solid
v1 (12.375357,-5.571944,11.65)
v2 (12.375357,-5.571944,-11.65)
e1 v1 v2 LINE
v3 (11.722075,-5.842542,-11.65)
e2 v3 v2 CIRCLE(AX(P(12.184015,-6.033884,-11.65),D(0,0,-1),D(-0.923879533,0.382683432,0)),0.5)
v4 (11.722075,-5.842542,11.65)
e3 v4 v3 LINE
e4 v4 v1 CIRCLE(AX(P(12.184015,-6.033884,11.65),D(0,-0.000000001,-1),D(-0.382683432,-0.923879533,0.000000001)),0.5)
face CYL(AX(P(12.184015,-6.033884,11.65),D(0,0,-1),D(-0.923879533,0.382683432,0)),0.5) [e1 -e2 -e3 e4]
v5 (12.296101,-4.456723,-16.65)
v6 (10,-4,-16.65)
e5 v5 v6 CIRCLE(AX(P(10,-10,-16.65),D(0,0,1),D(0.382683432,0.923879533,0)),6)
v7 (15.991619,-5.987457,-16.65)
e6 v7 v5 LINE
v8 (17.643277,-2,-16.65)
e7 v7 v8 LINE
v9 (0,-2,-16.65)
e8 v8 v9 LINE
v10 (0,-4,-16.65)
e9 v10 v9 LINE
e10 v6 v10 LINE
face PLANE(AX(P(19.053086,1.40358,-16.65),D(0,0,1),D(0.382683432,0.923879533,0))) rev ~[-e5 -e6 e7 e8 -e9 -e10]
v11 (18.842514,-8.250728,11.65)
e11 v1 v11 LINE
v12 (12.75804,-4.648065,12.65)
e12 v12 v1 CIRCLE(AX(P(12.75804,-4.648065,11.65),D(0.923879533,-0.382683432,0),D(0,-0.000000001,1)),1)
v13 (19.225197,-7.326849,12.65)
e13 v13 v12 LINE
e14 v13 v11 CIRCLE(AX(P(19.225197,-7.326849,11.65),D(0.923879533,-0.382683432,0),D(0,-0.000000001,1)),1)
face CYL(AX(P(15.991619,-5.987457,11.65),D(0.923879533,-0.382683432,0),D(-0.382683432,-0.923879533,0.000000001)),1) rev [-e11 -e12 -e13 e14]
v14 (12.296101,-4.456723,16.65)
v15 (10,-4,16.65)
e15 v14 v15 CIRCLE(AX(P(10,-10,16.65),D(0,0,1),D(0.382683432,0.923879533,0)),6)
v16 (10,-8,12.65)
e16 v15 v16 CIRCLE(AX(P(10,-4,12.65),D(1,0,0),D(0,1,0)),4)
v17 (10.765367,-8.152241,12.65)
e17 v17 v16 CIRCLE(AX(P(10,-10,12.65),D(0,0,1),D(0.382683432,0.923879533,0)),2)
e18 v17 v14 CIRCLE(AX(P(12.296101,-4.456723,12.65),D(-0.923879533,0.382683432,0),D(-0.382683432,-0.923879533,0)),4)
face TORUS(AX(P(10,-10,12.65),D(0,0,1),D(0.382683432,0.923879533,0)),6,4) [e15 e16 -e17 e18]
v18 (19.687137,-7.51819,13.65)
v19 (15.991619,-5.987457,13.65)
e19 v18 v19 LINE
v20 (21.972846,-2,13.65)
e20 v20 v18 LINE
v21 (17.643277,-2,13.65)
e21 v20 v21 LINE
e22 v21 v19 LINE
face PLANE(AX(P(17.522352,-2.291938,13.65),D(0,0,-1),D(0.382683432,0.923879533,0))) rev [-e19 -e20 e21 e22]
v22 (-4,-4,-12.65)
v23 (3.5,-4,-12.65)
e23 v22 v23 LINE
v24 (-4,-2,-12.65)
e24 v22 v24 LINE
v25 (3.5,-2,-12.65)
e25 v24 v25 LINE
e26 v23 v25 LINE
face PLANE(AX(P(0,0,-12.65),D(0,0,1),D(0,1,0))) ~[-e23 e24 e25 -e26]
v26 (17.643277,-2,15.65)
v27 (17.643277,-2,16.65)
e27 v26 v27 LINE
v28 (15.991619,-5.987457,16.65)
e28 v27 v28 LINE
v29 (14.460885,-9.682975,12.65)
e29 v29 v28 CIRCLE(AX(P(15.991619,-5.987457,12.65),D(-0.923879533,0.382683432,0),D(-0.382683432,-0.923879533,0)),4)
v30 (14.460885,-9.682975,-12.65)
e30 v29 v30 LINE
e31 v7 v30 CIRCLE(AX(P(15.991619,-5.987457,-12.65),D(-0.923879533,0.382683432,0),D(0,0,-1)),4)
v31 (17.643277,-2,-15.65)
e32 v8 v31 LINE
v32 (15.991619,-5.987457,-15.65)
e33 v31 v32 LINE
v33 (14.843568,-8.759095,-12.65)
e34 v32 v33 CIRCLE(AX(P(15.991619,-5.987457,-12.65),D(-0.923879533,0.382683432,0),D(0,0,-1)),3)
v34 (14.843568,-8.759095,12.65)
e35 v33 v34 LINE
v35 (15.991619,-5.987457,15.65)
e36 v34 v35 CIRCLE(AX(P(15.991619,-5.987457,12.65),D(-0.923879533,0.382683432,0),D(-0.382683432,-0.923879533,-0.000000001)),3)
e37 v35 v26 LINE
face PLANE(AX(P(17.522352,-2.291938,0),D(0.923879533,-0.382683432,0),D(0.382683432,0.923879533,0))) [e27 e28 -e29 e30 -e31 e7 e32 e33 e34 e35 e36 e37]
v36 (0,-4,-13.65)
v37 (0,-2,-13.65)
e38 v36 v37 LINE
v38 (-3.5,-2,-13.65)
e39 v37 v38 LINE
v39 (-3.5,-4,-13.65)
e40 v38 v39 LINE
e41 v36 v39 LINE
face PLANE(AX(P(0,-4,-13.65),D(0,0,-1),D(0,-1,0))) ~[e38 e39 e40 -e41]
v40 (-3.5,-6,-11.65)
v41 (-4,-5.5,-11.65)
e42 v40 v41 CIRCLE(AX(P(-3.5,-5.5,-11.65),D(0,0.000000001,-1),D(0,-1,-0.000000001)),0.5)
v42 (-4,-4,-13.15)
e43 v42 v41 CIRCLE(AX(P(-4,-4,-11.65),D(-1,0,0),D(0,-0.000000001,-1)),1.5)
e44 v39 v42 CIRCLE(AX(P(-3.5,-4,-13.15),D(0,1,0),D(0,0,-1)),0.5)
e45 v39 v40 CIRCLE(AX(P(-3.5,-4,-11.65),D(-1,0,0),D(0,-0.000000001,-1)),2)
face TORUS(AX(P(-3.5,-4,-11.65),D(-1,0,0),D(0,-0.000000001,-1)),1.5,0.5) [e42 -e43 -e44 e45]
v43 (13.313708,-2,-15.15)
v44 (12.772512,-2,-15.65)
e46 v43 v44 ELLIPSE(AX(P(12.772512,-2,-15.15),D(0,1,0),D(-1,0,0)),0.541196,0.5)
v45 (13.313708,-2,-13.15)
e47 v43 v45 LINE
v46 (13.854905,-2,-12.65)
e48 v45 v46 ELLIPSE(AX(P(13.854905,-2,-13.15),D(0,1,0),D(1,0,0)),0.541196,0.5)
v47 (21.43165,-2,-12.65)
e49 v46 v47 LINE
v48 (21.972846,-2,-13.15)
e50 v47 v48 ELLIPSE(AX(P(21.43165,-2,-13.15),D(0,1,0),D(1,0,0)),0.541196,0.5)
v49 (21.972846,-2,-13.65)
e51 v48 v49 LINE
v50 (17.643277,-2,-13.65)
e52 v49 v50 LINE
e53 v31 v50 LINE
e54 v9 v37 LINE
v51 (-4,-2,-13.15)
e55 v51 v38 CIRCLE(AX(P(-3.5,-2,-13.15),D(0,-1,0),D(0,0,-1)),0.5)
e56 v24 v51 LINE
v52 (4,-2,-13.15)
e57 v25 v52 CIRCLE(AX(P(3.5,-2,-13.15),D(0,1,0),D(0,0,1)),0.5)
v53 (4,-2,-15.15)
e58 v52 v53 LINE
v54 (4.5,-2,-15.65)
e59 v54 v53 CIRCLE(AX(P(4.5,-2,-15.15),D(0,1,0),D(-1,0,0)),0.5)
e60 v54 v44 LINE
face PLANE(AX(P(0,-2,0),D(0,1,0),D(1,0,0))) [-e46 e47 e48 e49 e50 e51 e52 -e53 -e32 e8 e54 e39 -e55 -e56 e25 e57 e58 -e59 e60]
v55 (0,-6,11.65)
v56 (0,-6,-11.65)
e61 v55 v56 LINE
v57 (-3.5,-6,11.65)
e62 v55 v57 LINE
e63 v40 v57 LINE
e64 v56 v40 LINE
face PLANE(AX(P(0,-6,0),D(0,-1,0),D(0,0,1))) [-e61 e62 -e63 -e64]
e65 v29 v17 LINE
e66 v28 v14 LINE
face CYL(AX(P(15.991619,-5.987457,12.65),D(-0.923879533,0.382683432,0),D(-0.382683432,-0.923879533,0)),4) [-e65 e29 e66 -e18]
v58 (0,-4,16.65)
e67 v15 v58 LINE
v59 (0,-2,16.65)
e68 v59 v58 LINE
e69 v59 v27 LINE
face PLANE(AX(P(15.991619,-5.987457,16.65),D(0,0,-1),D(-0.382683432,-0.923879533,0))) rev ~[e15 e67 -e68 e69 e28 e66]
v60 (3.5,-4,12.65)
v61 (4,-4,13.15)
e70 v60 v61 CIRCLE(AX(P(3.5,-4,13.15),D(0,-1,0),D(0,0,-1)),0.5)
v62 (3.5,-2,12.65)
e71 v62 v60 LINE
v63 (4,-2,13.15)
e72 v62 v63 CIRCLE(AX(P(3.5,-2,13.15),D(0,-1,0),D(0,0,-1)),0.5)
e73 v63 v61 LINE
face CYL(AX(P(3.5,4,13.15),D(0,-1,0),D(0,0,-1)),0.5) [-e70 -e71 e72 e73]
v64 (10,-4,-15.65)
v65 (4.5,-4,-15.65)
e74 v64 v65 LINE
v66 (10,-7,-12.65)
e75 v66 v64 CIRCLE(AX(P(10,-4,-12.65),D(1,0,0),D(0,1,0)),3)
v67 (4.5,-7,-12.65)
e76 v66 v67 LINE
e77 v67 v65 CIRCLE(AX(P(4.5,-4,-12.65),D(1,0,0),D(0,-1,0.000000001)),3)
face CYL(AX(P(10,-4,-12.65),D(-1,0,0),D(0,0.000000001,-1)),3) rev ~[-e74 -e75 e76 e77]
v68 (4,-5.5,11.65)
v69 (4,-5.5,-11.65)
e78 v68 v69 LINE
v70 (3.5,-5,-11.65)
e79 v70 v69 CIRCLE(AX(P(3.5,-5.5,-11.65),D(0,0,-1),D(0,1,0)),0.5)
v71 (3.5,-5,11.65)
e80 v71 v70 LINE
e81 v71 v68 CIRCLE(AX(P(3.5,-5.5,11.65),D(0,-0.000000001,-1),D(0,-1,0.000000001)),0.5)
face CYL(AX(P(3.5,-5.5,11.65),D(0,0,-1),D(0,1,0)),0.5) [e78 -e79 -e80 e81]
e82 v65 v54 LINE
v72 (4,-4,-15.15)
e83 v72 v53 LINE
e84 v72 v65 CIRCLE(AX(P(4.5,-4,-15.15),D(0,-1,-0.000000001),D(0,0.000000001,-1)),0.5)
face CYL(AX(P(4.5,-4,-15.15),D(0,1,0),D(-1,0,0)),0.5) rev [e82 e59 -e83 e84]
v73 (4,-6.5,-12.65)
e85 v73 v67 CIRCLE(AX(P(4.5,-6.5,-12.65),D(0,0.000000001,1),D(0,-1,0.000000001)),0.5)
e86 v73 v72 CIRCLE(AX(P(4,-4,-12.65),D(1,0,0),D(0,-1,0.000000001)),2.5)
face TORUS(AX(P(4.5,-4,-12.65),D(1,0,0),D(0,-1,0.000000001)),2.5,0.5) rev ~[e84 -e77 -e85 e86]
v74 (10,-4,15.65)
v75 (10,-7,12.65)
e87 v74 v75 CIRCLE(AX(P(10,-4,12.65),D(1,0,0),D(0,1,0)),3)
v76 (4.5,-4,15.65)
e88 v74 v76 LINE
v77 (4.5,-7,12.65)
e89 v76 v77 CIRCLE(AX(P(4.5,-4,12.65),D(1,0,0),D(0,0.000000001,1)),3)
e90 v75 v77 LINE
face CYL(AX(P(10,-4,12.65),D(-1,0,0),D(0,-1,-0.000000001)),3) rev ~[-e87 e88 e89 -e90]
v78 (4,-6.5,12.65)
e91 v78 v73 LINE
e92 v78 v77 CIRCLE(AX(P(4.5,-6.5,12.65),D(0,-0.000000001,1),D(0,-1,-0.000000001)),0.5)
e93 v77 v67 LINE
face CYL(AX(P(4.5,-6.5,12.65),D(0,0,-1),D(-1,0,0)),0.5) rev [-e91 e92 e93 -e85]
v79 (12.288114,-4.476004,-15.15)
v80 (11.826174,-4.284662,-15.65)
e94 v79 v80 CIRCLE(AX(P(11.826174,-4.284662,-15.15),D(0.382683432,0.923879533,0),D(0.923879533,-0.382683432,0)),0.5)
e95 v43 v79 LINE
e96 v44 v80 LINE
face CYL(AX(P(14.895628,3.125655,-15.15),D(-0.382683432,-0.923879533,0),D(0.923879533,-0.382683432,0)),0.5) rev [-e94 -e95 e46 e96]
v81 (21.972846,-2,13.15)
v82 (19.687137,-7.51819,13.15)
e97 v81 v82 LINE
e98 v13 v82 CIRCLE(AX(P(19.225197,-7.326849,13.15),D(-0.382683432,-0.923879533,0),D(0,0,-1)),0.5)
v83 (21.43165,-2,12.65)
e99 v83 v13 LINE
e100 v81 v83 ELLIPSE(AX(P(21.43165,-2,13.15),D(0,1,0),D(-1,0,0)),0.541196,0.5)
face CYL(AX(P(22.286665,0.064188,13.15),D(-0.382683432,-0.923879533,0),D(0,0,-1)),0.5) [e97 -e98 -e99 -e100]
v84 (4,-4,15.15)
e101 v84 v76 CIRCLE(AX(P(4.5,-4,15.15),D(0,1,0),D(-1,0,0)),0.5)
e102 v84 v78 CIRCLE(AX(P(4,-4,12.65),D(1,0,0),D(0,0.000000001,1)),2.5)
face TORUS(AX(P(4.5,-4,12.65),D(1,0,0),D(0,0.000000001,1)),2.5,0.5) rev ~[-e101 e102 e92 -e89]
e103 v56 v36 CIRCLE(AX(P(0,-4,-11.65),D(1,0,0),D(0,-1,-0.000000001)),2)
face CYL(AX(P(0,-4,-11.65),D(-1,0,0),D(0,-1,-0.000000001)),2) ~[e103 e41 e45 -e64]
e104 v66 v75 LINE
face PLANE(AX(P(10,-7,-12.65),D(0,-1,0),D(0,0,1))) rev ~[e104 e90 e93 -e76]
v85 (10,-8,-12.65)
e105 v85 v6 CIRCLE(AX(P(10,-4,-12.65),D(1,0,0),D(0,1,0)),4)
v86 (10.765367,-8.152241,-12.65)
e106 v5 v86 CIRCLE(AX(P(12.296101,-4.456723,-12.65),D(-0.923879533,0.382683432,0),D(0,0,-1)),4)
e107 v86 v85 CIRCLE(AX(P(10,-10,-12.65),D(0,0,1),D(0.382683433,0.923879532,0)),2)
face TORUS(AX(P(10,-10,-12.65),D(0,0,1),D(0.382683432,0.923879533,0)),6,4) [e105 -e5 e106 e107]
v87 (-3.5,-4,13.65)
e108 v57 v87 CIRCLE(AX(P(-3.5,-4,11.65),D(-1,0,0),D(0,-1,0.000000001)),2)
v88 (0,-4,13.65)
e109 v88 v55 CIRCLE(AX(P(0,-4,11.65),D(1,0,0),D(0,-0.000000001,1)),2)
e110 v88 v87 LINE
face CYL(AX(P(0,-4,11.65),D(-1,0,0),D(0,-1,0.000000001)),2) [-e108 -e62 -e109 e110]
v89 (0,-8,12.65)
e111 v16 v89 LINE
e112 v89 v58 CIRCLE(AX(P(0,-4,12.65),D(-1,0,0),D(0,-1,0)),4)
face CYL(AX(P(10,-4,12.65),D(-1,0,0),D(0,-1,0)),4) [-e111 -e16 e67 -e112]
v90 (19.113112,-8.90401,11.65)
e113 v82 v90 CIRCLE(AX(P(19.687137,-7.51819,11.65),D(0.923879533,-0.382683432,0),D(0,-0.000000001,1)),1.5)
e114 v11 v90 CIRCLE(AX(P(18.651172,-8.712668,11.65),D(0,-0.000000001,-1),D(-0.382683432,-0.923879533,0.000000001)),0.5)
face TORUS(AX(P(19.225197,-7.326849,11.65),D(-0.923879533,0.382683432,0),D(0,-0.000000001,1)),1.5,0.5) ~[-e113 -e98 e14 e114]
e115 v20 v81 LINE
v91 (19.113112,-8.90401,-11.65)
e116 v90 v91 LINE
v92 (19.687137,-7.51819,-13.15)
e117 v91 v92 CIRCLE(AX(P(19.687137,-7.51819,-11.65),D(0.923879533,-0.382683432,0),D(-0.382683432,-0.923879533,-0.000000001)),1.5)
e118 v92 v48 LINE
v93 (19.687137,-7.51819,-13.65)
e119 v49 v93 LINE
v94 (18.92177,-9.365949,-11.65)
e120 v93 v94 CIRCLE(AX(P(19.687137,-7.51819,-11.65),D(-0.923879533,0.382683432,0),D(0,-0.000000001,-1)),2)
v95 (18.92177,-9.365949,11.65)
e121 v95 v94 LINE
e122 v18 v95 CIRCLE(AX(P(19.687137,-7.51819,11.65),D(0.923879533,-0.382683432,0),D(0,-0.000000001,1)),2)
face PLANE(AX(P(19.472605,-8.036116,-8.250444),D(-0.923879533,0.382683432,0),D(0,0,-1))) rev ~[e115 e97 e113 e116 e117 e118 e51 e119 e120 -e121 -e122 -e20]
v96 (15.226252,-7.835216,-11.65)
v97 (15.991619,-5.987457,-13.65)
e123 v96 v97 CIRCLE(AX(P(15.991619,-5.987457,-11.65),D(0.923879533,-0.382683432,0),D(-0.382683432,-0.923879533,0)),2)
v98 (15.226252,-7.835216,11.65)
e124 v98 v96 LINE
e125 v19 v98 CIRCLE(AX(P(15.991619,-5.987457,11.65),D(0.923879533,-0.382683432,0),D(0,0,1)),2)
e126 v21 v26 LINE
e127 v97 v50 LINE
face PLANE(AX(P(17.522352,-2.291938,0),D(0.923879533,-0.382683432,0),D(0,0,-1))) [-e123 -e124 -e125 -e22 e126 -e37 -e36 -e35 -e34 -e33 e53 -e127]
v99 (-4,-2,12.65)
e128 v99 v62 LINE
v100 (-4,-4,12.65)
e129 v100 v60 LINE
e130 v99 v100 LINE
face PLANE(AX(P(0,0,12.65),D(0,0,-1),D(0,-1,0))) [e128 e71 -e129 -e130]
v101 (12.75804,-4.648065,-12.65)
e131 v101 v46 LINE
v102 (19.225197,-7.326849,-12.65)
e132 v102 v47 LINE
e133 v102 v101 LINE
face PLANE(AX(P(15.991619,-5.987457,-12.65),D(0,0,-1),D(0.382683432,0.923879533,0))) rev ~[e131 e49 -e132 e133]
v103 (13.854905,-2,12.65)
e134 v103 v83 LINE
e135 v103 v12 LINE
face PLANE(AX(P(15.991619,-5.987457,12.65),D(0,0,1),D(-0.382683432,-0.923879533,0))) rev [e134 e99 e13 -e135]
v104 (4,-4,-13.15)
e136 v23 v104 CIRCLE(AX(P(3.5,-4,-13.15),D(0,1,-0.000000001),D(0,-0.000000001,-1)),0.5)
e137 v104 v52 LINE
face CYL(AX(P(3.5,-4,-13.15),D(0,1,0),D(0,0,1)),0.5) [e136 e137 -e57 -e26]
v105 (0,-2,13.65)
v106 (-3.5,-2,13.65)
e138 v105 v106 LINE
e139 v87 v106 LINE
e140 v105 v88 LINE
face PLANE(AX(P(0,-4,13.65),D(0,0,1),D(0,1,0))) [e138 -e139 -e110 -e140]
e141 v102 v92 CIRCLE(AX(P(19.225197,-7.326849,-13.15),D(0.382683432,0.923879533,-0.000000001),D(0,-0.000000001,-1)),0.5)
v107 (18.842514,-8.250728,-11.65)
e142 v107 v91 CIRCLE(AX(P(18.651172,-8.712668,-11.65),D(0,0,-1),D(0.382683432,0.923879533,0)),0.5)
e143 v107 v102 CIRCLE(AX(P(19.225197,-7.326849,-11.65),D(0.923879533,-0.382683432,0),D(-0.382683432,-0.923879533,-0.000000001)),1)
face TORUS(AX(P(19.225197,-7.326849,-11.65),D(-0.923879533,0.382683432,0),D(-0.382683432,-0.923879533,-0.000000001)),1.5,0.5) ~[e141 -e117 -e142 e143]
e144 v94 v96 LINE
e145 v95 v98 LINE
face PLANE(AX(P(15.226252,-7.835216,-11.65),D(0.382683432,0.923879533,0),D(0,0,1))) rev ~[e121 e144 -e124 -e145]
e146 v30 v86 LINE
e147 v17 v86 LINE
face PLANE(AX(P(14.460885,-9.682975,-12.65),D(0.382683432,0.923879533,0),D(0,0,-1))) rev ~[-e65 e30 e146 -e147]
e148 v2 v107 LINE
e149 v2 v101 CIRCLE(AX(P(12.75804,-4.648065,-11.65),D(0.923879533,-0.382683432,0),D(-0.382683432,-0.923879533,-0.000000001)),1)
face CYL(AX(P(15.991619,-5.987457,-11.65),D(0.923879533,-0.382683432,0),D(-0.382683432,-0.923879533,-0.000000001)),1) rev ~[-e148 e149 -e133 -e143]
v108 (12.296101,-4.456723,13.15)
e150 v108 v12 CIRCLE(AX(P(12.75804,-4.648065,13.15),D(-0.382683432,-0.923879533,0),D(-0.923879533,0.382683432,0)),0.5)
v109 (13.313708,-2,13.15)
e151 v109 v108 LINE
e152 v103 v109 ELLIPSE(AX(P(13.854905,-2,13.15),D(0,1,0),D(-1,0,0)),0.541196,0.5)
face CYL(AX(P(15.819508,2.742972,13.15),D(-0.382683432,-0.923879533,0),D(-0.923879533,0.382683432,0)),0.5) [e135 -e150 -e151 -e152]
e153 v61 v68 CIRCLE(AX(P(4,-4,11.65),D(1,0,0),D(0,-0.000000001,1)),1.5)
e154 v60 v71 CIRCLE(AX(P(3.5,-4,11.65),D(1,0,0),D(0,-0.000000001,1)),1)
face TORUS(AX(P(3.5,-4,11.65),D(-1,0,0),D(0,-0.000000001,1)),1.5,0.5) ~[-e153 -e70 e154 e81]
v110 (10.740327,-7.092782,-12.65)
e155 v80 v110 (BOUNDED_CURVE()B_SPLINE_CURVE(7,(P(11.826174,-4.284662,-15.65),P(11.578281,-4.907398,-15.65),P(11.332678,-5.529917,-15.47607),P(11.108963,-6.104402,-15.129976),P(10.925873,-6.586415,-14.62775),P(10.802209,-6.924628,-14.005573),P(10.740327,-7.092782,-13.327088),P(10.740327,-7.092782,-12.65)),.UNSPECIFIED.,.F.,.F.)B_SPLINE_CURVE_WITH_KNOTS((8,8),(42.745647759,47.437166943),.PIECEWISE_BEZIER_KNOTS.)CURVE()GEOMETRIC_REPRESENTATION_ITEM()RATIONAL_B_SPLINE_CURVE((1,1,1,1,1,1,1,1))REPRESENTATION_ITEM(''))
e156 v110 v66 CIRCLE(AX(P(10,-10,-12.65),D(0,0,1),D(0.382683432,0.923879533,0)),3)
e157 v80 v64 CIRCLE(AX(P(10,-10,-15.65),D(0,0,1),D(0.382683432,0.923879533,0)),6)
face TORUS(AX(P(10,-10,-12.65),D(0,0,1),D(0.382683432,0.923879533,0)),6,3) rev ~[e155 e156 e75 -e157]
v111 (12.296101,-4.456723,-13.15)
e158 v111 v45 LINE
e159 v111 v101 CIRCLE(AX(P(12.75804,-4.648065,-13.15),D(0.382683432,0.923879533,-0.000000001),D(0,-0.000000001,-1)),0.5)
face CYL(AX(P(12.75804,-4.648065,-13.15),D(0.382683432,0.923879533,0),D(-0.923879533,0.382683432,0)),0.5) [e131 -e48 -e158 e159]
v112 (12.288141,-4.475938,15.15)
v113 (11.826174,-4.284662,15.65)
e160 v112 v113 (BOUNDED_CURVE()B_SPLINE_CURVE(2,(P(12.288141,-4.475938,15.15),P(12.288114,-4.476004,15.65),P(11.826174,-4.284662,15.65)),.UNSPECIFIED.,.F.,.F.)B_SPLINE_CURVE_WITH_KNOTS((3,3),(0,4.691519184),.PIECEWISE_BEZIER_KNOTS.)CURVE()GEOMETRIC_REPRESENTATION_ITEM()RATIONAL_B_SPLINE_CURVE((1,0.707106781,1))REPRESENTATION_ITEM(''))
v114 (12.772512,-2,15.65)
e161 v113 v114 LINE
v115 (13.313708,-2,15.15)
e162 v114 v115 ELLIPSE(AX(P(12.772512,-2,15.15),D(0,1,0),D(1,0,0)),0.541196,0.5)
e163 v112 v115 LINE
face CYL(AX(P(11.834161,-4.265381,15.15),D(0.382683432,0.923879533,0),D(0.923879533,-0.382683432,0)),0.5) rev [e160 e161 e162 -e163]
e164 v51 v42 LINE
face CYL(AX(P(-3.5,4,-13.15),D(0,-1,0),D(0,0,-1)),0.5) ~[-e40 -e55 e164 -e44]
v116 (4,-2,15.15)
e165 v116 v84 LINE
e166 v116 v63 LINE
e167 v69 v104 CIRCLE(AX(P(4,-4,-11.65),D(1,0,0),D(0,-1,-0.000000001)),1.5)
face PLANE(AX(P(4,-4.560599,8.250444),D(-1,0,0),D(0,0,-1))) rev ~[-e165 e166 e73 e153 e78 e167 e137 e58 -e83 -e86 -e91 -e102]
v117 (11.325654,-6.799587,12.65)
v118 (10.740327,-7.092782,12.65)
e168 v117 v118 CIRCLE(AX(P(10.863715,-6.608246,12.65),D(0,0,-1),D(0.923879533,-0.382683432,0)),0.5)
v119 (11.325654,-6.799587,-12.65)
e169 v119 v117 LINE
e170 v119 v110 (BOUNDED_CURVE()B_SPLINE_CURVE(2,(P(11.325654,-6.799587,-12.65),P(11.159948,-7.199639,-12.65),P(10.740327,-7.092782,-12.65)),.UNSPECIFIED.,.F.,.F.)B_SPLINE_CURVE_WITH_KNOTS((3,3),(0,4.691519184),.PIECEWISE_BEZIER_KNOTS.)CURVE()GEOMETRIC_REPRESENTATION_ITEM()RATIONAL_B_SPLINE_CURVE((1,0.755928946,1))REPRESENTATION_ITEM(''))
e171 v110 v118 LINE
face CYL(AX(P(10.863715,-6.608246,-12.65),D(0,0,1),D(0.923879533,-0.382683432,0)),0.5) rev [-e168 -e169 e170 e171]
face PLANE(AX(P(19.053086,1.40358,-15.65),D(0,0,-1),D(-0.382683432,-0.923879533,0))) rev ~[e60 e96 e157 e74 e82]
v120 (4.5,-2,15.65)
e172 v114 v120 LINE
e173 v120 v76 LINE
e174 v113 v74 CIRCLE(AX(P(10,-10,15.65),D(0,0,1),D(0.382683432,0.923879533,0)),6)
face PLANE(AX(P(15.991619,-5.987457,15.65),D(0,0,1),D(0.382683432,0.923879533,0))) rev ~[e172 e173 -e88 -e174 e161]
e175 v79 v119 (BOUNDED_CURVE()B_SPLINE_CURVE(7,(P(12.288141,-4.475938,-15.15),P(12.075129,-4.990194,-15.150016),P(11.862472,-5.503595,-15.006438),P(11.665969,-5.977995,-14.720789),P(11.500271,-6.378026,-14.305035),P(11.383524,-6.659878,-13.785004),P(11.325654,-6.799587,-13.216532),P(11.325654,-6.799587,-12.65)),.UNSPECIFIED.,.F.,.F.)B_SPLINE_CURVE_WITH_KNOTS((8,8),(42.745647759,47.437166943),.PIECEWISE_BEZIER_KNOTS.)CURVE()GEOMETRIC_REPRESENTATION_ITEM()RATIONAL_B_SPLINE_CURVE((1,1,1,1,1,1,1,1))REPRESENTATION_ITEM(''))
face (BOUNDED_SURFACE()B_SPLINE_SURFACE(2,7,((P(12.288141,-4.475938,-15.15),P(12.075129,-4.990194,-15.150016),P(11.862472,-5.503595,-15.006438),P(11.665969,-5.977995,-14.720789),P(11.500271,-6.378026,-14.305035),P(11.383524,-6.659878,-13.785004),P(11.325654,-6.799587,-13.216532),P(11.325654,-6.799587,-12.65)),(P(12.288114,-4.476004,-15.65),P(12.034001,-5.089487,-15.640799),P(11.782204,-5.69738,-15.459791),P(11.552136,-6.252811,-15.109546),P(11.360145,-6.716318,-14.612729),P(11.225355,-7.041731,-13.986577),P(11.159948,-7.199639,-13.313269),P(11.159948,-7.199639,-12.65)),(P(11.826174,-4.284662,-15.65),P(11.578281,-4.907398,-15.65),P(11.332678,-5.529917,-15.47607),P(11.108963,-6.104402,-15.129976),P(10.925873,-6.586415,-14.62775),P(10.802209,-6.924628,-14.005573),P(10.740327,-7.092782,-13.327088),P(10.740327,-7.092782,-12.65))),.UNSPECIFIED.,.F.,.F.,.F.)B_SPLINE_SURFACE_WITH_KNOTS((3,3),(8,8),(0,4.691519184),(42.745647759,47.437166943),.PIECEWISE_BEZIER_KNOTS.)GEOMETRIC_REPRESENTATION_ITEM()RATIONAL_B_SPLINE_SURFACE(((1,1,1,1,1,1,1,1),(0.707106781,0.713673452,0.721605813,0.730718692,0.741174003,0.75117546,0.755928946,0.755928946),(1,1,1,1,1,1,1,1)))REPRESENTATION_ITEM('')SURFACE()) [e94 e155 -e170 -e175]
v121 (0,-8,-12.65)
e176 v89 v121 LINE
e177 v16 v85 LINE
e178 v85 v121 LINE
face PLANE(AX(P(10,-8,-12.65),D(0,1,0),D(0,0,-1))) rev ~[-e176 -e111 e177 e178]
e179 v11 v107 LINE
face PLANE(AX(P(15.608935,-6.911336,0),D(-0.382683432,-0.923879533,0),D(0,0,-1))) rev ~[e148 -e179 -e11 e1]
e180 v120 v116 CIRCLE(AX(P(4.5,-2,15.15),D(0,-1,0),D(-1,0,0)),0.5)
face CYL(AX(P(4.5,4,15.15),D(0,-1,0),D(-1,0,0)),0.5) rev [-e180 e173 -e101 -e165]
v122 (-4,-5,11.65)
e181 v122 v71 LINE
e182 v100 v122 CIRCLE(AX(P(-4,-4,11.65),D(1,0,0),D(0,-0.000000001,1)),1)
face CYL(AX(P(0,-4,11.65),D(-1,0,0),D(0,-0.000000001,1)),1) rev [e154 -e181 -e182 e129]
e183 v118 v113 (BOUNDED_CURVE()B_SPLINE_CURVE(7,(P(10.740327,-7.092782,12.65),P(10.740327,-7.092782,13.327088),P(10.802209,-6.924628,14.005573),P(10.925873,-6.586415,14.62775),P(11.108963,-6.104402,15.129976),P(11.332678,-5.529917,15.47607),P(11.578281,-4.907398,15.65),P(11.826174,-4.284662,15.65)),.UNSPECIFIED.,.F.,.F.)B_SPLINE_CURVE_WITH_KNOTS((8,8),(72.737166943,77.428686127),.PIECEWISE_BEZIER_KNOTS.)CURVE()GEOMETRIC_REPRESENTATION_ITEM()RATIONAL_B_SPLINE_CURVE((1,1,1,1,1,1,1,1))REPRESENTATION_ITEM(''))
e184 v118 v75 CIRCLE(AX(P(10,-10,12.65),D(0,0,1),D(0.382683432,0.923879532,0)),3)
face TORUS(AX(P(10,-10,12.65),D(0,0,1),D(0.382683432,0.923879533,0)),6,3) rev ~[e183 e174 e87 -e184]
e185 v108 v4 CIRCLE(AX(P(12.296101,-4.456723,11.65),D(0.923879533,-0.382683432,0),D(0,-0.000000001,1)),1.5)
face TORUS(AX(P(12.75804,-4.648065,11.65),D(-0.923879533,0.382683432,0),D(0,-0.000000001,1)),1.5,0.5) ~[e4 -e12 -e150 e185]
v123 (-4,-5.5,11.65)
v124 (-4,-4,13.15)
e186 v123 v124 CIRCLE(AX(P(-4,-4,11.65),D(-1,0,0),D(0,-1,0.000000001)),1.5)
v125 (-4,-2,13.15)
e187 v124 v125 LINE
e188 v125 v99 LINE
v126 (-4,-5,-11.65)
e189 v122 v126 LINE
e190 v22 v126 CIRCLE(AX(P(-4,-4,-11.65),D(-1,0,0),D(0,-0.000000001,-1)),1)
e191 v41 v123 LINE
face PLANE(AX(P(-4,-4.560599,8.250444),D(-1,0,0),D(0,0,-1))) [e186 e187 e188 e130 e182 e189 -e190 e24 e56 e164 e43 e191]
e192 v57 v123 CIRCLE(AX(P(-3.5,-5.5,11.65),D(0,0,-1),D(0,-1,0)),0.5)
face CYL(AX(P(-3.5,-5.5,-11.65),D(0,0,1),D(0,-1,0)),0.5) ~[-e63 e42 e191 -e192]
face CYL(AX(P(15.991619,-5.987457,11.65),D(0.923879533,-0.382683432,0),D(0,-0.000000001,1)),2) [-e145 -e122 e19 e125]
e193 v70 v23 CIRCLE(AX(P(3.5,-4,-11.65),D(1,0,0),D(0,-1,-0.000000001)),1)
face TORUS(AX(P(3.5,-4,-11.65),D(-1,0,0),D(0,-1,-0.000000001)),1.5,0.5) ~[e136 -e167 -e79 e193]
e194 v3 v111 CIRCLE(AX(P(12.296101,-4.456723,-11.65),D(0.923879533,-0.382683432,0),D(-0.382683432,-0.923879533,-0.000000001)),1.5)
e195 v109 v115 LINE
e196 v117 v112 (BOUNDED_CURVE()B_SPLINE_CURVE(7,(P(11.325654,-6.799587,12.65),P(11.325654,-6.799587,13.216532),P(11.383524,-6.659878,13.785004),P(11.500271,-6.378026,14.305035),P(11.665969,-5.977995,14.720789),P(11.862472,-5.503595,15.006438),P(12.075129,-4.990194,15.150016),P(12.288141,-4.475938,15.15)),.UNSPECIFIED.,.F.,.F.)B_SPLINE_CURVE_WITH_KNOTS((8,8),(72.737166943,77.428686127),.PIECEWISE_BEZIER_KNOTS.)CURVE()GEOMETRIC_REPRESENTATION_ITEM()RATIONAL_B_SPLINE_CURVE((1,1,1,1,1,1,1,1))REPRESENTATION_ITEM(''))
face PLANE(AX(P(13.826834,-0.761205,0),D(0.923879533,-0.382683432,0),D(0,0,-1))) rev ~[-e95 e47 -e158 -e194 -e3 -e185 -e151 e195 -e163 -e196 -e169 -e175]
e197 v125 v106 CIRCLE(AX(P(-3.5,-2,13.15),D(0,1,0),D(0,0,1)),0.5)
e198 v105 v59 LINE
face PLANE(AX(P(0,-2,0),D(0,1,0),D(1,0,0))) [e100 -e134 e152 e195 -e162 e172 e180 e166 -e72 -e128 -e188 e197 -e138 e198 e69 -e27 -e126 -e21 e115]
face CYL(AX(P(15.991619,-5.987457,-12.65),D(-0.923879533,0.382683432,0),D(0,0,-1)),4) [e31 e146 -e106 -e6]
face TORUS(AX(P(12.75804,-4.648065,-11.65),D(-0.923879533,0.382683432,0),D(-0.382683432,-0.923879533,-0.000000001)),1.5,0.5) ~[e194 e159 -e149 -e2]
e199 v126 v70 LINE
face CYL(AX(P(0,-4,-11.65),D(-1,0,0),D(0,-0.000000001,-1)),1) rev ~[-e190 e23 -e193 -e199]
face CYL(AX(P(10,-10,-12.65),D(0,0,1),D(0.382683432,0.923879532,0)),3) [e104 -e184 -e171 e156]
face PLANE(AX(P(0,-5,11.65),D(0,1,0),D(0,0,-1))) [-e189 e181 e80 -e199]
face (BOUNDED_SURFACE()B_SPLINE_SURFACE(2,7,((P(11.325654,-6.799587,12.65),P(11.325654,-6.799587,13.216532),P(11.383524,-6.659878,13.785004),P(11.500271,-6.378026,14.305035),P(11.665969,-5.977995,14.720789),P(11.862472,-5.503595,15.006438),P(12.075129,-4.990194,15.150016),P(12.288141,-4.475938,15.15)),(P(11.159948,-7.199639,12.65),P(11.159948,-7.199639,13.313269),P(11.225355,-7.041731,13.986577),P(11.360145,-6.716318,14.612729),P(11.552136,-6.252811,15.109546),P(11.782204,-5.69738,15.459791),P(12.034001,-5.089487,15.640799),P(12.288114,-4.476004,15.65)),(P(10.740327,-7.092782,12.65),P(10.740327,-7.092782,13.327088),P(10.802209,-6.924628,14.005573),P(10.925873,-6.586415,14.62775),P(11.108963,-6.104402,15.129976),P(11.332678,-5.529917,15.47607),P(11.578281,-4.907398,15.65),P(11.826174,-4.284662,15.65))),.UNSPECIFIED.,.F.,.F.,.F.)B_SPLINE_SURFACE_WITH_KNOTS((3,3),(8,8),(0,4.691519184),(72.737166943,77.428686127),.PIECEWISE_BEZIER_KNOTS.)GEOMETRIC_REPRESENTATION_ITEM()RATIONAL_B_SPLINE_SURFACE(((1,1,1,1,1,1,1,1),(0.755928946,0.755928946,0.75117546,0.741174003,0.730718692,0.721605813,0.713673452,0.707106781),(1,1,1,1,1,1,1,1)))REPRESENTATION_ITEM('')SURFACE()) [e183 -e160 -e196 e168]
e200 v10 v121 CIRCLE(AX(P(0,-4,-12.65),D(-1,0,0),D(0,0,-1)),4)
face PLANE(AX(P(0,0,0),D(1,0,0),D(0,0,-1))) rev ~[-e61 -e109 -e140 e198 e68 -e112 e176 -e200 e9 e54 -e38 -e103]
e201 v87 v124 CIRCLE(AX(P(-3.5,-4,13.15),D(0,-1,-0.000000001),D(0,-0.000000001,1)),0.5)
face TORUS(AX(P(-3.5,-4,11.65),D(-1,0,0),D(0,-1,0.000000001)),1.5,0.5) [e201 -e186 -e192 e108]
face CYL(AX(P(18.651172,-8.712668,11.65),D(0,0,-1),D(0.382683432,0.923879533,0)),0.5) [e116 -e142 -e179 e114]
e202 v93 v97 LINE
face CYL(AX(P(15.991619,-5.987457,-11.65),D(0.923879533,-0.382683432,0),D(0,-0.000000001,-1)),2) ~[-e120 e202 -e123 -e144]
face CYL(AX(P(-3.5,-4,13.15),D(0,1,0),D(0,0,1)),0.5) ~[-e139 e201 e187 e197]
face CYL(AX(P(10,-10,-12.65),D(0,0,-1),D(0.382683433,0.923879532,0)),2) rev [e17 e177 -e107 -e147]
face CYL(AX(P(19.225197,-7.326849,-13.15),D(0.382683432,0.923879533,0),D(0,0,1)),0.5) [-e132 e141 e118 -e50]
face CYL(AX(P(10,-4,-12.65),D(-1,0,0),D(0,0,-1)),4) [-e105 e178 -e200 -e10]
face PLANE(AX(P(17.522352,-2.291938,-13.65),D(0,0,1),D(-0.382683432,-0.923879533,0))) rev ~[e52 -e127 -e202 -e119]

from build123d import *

# Parameters (mm, degrees)
BOSS_EXTRUDE6_DEPTH = 4
BOSS_EXTRUDE7_DEPTH = 4
FILLET5_R           = 0.5
BOSS_EXTRUDE8_DEPTH = 4
BOSS_EXTRUDE9_START = -4
BOSS_EXTRUDE9_DEPTH = 4
FILLET6_R           = 0.5


with BuildPart() as part:
    # Sweep1: sweep along a path in Sketch2path
    with BuildLine(Plane.XY) as sweep1_path:
        Line((17.522352454, -2.291938404), (13.826834324, -0.761204675))
        ThreePointArc((13.826834324, -0.761204675), (11.95090322, -0.192147196), (10, 0))
        Line((10, 0), (0, 0))
    # Sketch3 → Sweep1 (sweep)
    with BuildSketch(Plane(origin=(0, 0, 0), x_dir=(0, 0, -1), z_dir=(1, 0, 0))):
        with BuildLine():
            Line((-16.65, -4), (-16.65, 4))
            ThreePointArc((-16.65, 4), (-15.478427125, 6.828427125), (-12.65, 8))
            Line((-12.65, 8), (12.65, 8))
            ThreePointArc((12.65, 8), (15.478427125, 6.828427125), (16.65, 4))
            Line((16.65, 4), (16.65, -4))
            ThreePointArc((16.65, -4), (15.478427125, -6.828427125), (12.65, -8))
            Line((12.65, -8), (-12.65, -8))
            ThreePointArc((-12.65, -8), (-15.478427125, -6.828427125), (-16.65, -4))
        make_face()
        with BuildLine():
            Line((-15.65, -4), (-15.65, 4))
            ThreePointArc((-15.65, 4), (-14.771320344, 6.121320344), (-12.65, 7))
            Line((-12.65, 7), (12.65, 7))
            ThreePointArc((12.65, 7), (14.771320344, 6.121320344), (15.65, 4))
            Line((15.65, 4), (15.65, -4))
            ThreePointArc((15.65, -4), (14.771320344, -6.121320344), (12.65, -7))
            Line((12.65, -7), (-12.65, -7))
            ThreePointArc((-12.65, -7), (-14.771320344, -6.121320344), (-15.65, -4))
        make_face(mode=Mode.SUBTRACT)
    sweep(path=sweep1_path.line)



with BuildPart() as body_2:
    # Sketch18 → Boss-Extrude6 (new, symmetric)
    with BuildSketch(Plane.ZY):
        with BuildLine():
            Line((-11.65, 5), (0, 5))
            Line((0, 5), (0, 6))
            Line((0, 6), (-11.65, 6))
            ThreePointArc((-11.65, 6), (-13.064213562, 5.414213562), (-13.65, 4))
            Line((-13.65, 4), (-13.65, 0))
            Line((-13.65, 0), (-12.65, 0))
            Line((-12.65, 0), (-12.65, 4))
            ThreePointArc((-12.65, 4), (-12.357106781, 4.707106781), (-11.65, 5))
        make_face()
    extrude(amount=BOSS_EXTRUDE6_DEPTH, both=True)

    # Mirror6: body 2 across plane


with BuildPart() as body_2_1:
    add(body_2.part)
    add(body_2.part.mirror(Plane.XY))

    # Mirror7: body 2 across plane


with BuildPart() as body_2_2:
    add(body_2_1.part)
    add(body_2_1.part.mirror(Plane(origin=(-4, 0, 0), x_dir=(0, 0, 1), z_dir=(0, -1, 0))))


with BuildPart() as part_1:
    add(part.part)

    add(body_2_2.part)  # Boss-Extrude7 merges body 2
    # Sketch19 → Boss-Extrude7 (add)
    with BuildSketch(Plane.ZY):
        with BuildLine():
            Line((-15.65, -4), (-15.65, 4))
            ThreePointArc((-15.65, 4), (-14.771320344, 6.121320344), (-12.65, 7))
            Line((-12.65, 7), (12.65, 7))
            ThreePointArc((12.65, 7), (14.771320344, 6.121320344), (15.65, 4))
            Line((15.65, 4), (15.65, -4))
            ThreePointArc((15.65, -4), (14.771320344, -6.121320344), (12.65, -7))
            Line((12.65, -7), (-12.65, -7))
            ThreePointArc((-12.65, -7), (-14.771320344, -6.121320344), (-15.65, -4))
        make_face()
        with BuildLine():
            Line((-13.65, -4), (-13.65, 4))
            ThreePointArc((-13.65, 4), (-13.064213562, 5.414213562), (-11.65, 6))
            Line((-11.65, 6), (11.65, 6))
            ThreePointArc((11.65, 6), (13.064213562, 5.414213562), (13.65, 4))
            Line((13.65, 4), (13.65, -4))
            ThreePointArc((13.65, -4), (13.064213562, -5.414213562), (11.65, -6))
            Line((11.65, -6), (-11.65, -6))
            ThreePointArc((-11.65, -6), (-13.064213562, -5.414213562), (-13.65, -4))
        make_face(mode=Mode.SUBTRACT)
    extrude(amount=-BOSS_EXTRUDE7_DEPTH)

    # Fillet5
    fillet5_edges = [part_1.edges().sort_by_distance(p)[0] for p in [
        (4, -6.121320344, -14.771320344),
        (4, 0, -15.65),
        (4, 6.121320344, -14.771320344),
        (4, 7, 0),
        (4, 6.121320344, 14.771320344),
        (4, 0, 15.65),
        (4, -6.121320344, 14.771320344),
        (4, -7, 0),
        (-4, 0, -13.65),
        (-4, 6, 0),
        (-4, 5.414213562, 13.064213562),
        (-4, -5.414213562, -13.064213562),
        (4, 5, 0),
        (4, 0, -12.65),
        (-4, -6, 0),
        (-4, -5.414213562, 13.064213562),
        (-4, 0, 13.65),
        (-4, 5.414213562, -13.064213562),
        (4, 4.707106781, -12.357106781),
        (4, -5, 0),
        (4, -4.707106781, 12.357106781),
        (4, 0, 12.65),
        (4, 4.707106781, 12.357106781),
        (4, -4.707106781, -12.357106781),
    ]]
    fillet(fillet5_edges, radius=FILLET5_R)



with BuildPart() as body_2_2_1:
    # Sketch20 → Boss-Extrude8 (new, symmetric)
    with BuildSketch(Plane(origin=(15.766585942, -6.530733729, 0), x_dir=(0, 0, -1), z_dir=(0.9238795325112864, -0.38268343236509084, 0))):
        with BuildLine():
            ThreePointArc((-11.65, 9.588038999), (-12.357106781, 9.29514578), (-12.65, 8.588038999))
            Line((-12.65, 8.588038999), (-12.65, 4.588038999))
            Line((-12.65, 4.588038999), (-13.65, 4.588038999))
            Line((-13.65, 4.588038999), (-13.65, 8.588038999))
            ThreePointArc((-13.65, 8.588038999), (-13.064213562, 10.002252561), (-11.65, 10.588038999))
            Line((-11.65, 10.588038999), (0, 10.588038999))
            Line((0, 10.588038999), (0, 9.588038999))
            Line((0, 9.588038999), (-11.65, 9.588038999))
        make_face()
    extrude(amount=BOSS_EXTRUDE8_DEPTH, both=True)

    # Mirror8: body 2 2 across plane


with BuildPart() as body_2_2_2:
    add(body_2_2_1.part)
    add(body_2_2_1.part.mirror(Plane(origin=(1.755766512, 4.238795325, 0), x_dir=(0, 0, 1), z_dir=(0.3826834323650908, 0.9238795325112864, 0))))

    # Mirror9: body 2 2 across plane


with BuildPart() as body_2_2_3:
    add(body_2_2_2.part)
    add(body_2_2_2.part.mirror(Plane.XY))


with BuildPart() as part_2:
    add(part_1.part)

    add(body_2_2_3.part)  # Boss-Extrude9 merges body 2 2
    # Sketch21 → Boss-Extrude9 (add)
    with BuildSketch(Plane(origin=(15.766585942, -6.530733729, 0), x_dir=(0, 0, -1), z_dir=(0.9238795325112864, -0.38268343236509084, 0)).offset(BOSS_EXTRUDE9_START)):
        with BuildLine():
            Line((-15.65, 8.588038999), (-15.65, 0.588038999))
            ThreePointArc((-15.65, 0.588038999), (-14.771320344, -1.533281345), (-12.65, -2.411961001))
            Line((-12.65, -2.411961001), (12.65, -2.411961001))
            ThreePointArc((12.65, -2.411961001), (14.771320344, -1.533281345), (15.65, 0.588038999))
            Line((15.65, 0.588038999), (15.65, 8.588038999))
            ThreePointArc((15.65, 8.588038999), (14.771320344, 10.709359342), (12.65, 11.588038999))
            Line((12.65, 11.588038999), (-12.65, 11.588038999))
            ThreePointArc((-12.65, 11.588038999), (-14.771320344, 10.709359342), (-15.65, 8.588038999))
        make_face()
        with BuildLine():
            Line((-13.65, 8.588038999), (-13.65, 0.588038999))
            ThreePointArc((-13.65, 0.588038999), (-13.064213562, -0.826174564), (-11.65, -1.411961001))
            Line((-11.65, -1.411961001), (11.65, -1.411961001))
            ThreePointArc((11.65, -1.411961001), (13.064213562, -0.826174564), (13.65, 0.588038999))
            Line((13.65, 0.588038999), (13.65, 8.588038999))
            ThreePointArc((13.65, 8.588038999), (13.064213562, 10.002252561), (11.65, 10.588038999))
            Line((11.65, 10.588038999), (-11.65, 10.588038999))
            ThreePointArc((-11.65, 10.588038999), (-13.064213562, 10.002252561), (-13.65, 8.588038999))
        make_face(mode=Mode.SUBTRACT)
    extrude(amount=BOSS_EXTRUDE9_DEPTH)

    # Fillet6
    fillet6_edges = [part_2.edges().sort_by_distance(p)[0] for p in [
        (23.019202363, 0.526127479, 12.357106781),
        (23.131287746, 0.796725529, 0),
        (21.217870584, -3.822672134, 12.65),
        (23.019202363, 0.526127479, -12.357106781),
        (21.217870584, -3.822672134, -12.65),
        (19.304453422, -8.442069796, 0),
        (19.416538804, -8.171471746, 12.357106781),
        (15.628166103, 3.587594938, 12.357106781),
        (13.826834324, -0.761204675, 12.65),
        (12.025502544, -5.110004287, -12.357106781),
        (15.740251485, 3.858192988, 0),
        (12.025502544, -5.110004287, 12.357106781),
        (11.913417162, -5.380602337, 0),
        (15.628166103, 3.587594938, -12.357106781),
        (13.826834324, -0.761204675, -12.65),
        (19.416538804, -8.171471746, -12.357106781),
        (16.169362203, 4.894157902, 14.771320344),
        (13.826834324, -0.761204675, 15.65),
        (11.484306444, -6.416567252, 14.771320344),
        (11.148050297, -7.228361402, 0),
        (11.484306444, -6.416567252, -14.771320344),
        (13.826834324, -0.761204675, -15.65),
        (16.169362203, 4.894157902, -14.771320344),
        (16.50561835, 5.705952053, 0),
    ]]
    fillet(fillet6_edges, radius=FILLET6_R)

    # SurfaceCut1
    split(bisect_by=Plane(origin=(0, -2, 0), x_dir=(1, 0, 0), z_dir=(0, 1, 0)), keep=Keep.BOTTOM)


solid = part_2.part
